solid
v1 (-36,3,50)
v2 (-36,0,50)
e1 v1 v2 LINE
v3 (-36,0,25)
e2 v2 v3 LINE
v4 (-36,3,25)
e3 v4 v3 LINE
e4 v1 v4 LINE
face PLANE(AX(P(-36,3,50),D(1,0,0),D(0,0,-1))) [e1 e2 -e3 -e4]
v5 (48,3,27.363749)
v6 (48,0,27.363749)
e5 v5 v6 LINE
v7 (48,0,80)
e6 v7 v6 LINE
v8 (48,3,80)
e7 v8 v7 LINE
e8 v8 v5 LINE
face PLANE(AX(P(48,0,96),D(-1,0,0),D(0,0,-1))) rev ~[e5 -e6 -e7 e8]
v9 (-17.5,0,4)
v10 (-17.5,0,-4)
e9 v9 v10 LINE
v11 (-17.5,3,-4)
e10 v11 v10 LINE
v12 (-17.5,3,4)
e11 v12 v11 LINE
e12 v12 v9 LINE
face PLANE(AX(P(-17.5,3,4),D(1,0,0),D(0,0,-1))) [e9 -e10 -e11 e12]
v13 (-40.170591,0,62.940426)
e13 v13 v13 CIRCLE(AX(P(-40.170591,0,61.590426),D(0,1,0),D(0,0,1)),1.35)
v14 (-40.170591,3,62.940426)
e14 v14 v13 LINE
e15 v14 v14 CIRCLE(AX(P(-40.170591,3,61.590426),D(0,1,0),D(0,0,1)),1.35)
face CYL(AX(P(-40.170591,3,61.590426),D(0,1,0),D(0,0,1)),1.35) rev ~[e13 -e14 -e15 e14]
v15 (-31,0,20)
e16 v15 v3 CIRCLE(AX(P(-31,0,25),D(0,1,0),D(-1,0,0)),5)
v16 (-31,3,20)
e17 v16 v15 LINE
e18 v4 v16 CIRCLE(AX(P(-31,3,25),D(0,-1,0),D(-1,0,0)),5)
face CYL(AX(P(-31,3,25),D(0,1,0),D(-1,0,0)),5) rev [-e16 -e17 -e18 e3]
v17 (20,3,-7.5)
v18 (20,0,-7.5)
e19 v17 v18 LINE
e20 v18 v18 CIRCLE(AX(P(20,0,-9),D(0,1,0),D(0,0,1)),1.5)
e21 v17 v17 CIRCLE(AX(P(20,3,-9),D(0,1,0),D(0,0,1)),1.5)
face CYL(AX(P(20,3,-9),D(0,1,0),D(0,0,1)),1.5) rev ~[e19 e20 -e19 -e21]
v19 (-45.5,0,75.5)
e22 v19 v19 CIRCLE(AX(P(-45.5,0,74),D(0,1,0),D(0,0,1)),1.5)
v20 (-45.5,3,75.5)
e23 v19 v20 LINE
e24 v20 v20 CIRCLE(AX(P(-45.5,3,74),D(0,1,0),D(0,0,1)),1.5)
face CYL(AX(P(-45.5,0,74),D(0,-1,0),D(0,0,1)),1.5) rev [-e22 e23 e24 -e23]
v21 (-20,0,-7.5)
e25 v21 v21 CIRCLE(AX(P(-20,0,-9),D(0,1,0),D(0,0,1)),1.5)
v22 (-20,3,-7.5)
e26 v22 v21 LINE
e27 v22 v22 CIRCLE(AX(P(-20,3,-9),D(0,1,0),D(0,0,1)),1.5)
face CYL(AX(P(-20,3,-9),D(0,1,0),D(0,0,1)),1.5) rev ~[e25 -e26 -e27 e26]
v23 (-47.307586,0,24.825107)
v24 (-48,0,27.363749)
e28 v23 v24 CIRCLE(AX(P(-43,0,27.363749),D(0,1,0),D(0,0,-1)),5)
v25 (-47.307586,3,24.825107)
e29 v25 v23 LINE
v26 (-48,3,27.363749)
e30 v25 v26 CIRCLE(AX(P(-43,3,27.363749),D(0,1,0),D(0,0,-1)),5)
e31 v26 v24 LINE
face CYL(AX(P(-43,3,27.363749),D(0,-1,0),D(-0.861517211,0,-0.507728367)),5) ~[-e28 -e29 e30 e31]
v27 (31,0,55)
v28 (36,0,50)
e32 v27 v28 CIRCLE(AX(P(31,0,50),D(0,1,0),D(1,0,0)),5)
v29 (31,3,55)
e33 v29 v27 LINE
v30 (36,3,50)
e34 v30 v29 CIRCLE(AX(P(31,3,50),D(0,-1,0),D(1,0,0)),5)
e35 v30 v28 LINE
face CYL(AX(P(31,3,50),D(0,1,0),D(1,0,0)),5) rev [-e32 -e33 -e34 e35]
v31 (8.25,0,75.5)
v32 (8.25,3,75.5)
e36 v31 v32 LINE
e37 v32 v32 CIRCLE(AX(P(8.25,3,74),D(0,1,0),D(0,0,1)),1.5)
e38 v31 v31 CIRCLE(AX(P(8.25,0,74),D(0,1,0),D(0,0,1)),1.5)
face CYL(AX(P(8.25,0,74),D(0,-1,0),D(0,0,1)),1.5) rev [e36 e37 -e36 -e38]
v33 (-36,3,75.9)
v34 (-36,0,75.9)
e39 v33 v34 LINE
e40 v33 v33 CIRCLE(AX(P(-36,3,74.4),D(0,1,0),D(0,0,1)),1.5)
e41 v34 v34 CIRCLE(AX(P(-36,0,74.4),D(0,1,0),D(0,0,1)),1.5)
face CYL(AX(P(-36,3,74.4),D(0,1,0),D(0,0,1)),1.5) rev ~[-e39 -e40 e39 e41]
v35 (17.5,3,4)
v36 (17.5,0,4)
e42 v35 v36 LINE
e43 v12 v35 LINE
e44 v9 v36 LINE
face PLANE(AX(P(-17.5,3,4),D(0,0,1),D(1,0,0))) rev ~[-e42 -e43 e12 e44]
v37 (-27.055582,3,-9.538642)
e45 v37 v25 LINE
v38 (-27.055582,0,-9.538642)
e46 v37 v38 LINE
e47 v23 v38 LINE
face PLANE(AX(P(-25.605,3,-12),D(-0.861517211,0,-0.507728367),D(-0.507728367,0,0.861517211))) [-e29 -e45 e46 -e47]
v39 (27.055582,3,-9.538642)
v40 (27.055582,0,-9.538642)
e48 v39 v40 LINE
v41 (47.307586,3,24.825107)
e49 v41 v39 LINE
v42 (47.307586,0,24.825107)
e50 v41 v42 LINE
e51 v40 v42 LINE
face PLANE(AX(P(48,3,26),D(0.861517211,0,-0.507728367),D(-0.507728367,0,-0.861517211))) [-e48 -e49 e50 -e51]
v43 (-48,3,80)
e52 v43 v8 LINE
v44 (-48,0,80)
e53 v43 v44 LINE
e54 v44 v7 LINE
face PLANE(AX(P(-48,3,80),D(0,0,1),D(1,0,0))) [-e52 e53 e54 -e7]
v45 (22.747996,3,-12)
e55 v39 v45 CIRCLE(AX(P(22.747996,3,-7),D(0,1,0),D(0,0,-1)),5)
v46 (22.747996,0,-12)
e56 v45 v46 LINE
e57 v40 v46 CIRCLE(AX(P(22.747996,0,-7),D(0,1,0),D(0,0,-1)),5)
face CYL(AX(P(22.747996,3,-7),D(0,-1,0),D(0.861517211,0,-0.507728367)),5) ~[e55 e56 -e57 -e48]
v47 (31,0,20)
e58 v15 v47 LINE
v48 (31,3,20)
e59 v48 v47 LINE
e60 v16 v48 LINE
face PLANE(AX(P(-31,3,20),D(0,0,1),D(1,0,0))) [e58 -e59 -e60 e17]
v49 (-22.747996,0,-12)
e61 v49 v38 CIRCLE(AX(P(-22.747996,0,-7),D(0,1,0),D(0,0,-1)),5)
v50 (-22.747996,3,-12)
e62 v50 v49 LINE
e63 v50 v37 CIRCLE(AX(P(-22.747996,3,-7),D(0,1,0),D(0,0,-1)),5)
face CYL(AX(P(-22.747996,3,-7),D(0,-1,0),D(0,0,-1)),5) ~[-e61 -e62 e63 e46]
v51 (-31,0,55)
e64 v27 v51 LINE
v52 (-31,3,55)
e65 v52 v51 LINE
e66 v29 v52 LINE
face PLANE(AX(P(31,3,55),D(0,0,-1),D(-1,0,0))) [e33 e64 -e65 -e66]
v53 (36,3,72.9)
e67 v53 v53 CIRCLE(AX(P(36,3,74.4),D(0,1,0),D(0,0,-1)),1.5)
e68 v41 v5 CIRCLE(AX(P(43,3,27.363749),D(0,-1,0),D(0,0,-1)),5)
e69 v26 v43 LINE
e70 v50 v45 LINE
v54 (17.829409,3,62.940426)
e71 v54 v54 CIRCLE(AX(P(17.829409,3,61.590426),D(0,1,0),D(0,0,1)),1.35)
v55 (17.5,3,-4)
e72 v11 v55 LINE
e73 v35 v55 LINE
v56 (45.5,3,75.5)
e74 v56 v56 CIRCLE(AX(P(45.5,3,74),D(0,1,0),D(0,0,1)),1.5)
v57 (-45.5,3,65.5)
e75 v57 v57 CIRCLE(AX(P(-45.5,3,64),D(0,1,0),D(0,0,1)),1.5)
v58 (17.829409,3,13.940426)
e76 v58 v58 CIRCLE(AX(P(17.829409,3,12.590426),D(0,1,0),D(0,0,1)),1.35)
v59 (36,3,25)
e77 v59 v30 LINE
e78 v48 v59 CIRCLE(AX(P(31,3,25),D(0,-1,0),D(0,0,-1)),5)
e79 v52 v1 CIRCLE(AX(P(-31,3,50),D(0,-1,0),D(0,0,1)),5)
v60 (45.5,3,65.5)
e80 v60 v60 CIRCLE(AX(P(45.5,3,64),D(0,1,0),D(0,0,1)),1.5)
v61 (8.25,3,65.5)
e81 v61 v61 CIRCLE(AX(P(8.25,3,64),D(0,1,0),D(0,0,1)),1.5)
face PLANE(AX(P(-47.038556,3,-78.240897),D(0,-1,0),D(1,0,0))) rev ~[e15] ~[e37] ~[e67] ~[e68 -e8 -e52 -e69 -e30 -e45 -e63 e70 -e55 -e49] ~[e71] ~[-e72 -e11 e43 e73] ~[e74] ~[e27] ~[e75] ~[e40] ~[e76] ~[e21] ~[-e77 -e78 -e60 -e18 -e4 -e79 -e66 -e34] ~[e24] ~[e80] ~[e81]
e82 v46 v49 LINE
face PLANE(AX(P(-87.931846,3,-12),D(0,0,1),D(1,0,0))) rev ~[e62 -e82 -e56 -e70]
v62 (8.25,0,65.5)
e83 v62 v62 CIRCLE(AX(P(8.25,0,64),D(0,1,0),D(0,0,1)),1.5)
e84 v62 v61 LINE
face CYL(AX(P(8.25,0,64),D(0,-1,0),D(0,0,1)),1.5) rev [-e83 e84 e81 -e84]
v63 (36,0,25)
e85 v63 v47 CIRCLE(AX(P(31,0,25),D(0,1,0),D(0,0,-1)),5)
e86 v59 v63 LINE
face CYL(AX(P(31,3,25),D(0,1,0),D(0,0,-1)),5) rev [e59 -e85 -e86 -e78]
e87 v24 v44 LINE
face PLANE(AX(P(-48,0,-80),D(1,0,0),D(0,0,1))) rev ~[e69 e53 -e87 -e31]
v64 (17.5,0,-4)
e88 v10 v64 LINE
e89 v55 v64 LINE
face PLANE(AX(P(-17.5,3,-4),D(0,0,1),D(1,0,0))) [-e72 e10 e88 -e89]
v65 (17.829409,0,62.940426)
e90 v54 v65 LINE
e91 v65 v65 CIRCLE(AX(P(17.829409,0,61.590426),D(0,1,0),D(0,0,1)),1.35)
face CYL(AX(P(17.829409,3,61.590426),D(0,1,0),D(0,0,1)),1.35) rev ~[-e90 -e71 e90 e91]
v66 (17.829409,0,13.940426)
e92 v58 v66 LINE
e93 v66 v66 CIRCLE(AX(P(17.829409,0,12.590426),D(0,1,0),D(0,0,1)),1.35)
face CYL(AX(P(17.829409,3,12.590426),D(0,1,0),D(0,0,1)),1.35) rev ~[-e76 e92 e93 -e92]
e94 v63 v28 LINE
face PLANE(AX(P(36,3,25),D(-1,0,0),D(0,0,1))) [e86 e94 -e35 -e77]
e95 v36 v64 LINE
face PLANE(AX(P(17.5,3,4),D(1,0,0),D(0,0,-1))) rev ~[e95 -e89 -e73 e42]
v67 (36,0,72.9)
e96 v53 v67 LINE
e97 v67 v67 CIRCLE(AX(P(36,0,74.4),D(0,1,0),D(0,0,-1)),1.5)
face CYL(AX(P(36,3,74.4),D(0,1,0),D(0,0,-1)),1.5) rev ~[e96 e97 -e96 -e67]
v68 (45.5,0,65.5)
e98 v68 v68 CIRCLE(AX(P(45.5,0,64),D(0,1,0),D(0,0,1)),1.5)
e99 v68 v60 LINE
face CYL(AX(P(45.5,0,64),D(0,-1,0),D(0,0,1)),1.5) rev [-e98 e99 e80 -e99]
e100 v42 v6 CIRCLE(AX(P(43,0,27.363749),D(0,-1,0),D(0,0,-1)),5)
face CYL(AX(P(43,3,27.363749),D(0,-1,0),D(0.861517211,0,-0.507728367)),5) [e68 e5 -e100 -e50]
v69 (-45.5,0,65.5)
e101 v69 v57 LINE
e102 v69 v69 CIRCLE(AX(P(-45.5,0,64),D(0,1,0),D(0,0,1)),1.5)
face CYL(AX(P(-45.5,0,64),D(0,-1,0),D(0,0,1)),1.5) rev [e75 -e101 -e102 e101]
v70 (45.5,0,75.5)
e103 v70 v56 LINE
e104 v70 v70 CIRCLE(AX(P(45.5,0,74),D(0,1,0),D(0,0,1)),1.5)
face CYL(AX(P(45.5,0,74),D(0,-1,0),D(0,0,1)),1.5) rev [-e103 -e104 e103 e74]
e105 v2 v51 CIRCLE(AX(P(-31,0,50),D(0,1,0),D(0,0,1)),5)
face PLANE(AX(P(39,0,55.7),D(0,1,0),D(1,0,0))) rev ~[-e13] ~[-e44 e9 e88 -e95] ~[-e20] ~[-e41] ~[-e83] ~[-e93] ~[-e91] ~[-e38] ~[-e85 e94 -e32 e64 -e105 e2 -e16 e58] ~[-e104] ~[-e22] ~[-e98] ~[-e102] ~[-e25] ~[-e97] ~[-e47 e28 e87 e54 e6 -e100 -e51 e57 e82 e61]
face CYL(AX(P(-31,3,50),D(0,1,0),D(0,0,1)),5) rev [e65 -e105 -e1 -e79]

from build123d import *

# Parameters (mm, degrees)
SKETCH1_R           = 1.5
SKETCH1_R_2         = 1.65
SKETCH1_W           = 6
SKETCH1_H           = 28
BOSS_EXTRUDE1_DEPTH = 3
CUT_EXTRUDE2_REACH  = 109.373
SKETCH3_R           = 1.5
CUT_EXTRUDE3_REACH  = 109.373
SKETCH4_W           = 22.395
SKETCH4_H           = 68
SKETCH6_W           = 51.21
SKETCH6_H           = 5
BOSS_EXTRUDE2_DEPTH = 3
CUT_EXTRUDE4_REACH  = 109.373
SKETCH7_R           = 1.5
CUT_EXTRUDE5_REACH  = 109.373
SKETCH9_R           = 1.5
CUT_EXTRUDE6_REACH  = 109.373
SKETCH11_R          = 1.5
SKETCH11_R_2        = 2.5
BOSS_EXTRUDE3_DEPTH = 3
CUT_EXTRUDE7_REACH  = 109.373
CUT_EXTRUDE8_START  = -3
SKETCH13_W          = 4.95
SKETCH13_H          = 15
SKETCH13_W_2        = 6.078763038
SKETCH13_H_2        = 4.767996375
CUT_EXTRUDE8_DEPTH  = 3
BOSS_EXTRUDE4_DEPTH = 3
CUT_EXTRUDE9_REACH  = 120.849
SKETCH15_R          = 1.5
CUT_EXTRUDE10_DEPTH = 119.84864324
SKETCH19_W          = 9
SKETCH19_H          = 48.6
SKETCH19_W_2        = 31.468413904
SKETCH19_H_2        = 28.051944454
BOSS_EXTRUDE5_DEPTH = 3
SKETCH20_W          = 96
SKETCH20_H          = 16
CUT_EXTRUDE11_DEPTH = 108.373181009
SKETCH22_W          = 4.143615352
SKETCH22_H          = 3.607002568
BOSS_EXTRUDE6_DEPTH = 3
FILLET1_R           = 5
SKETCH23_R          = 1.35
CUT_EXTRUDE12_DEPTH = 94.343451832
CUT_EXTRUDE13_DEPTH = 94.343451832
SKETCH28_W          = 35
SKETCH28_H          = 8
CUT_EXTRUDE17_DEPTH = 94.343451832
SKETCH29_R          = 1.5
CUT_EXTRUDE18_DEPTH = 94.343451832


with BuildPart() as part:
    # Sketch1 → Boss-Extrude1 (new body)
    with BuildSketch(Plane(origin=(0, 0, 0), x_dir=(1, 0, 0), z_dir=(0, 1, 0))):
        Polygon((-48, -80), (-48, 80), (48, 80), (48, -80), (48, -96), (-48, -96), align=None)
        with Locations(Location((45.5, -74, 0), (0, 0, 270))):
            Circle(SKETCH1_R, mode=Mode.SUBTRACT)
        with Locations(Location((45.5, -64, 0), (0, 0, 270))):
            Circle(SKETCH1_R, mode=Mode.SUBTRACT)
        with Locations(Location((-45.5, -64, 0), (0, 0, 270))):
            Circle(SKETCH1_R, mode=Mode.SUBTRACT)
        with Locations(Location((-45.5, -74, 0), (0, 0, 270))):
            Circle(SKETCH1_R, mode=Mode.SUBTRACT)
        with Locations(Location((8.25, -74, 0), (0, 0, 270))):
            Circle(SKETCH1_R, mode=Mode.SUBTRACT)
        with Locations(Location((8.25, -64, 0), (0, 0, 270))):
            Circle(SKETCH1_R, mode=Mode.SUBTRACT)
        with Locations(Location((0.259511597, -37.46931278, 0), (0, 0, 270))):
            Circle(SKETCH1_R_2, mode=Mode.SUBTRACT)
        with Locations(Location((15.320886036, -37.46931278, 0), (0, 0, 270))):
            Circle(SKETCH1_R_2, mode=Mode.SUBTRACT)
        with Locations(Location((15.320886036, -52.53068722, 0), (0, 0, 270))):
            Circle(SKETCH1_R_2, mode=Mode.SUBTRACT)
        with Locations(Location((0.259511597, -52.53068722, 0), (0, 0, 270))):
            Circle(SKETCH1_R_2, mode=Mode.SUBTRACT)
        with Locations(Location((17.55, -90, 0), (0, 0, 270))):
            Circle(SKETCH1_R, mode=Mode.SUBTRACT)
        with Locations(Location((45.55, -90, 0), (0, 0, 270))):
            Circle(SKETCH1_R, mode=Mode.SUBTRACT)
        with Locations(Location((-45.55, -90, 0), (0, 0, 90))):
            Circle(SKETCH1_R, mode=Mode.SUBTRACT)
        with Locations(Location((-17.55, -90, 0), (0, 0, 90))):
            Circle(SKETCH1_R, mode=Mode.SUBTRACT)
        with Locations((22.5, -45.4)):
            Rectangle(SKETCH1_W, SKETCH1_H, mode=Mode.SUBTRACT)
        Polygon((43, -80), (34.5, -80), (34.5, -31.4), (43, -31.4), (43.5, -31.4), (43.5, -58), (43, -58), align=None, mode=Mode.SUBTRACT)
    extrude(amount=BOSS_EXTRUDE1_DEPTH)

    # Sketch3 → Cut-Extrude2 (cut, up to next)
    with BuildSketch(Plane(origin=(0, 3, 0), x_dir=(1, 0, 0), z_dir=(0, 1, 0)), mode=Mode.PRIVATE) as cut_extrude2_sk1:
        with Locations(Location((0, 9, 0), (0, 0, 270))):
            Circle(SKETCH3_R)
    cut_extrude2_tool1 = extrude(cut_extrude2_sk1.sketch, amount=-CUT_EXTRUDE2_REACH, mode=Mode.PRIVATE) & part.part
    add(cut_extrude2_tool1.solids().sort_by_distance((0, 3, -9))[0], mode=Mode.SUBTRACT)

    # Sketch4 → Cut-Extrude3 (cut, up to next)
    with BuildSketch(Plane(origin=(0, 3, 0), x_dir=(1, 0, 0), z_dir=(0, 1, 0)), mode=Mode.PRIVATE) as cut_extrude3_sk1:
        with Locations((36.8025, 46)):
            Rectangle(SKETCH4_W, SKETCH4_H)
    cut_extrude3_tool1 = extrude(cut_extrude3_sk1.sketch, amount=-CUT_EXTRUDE3_REACH, mode=Mode.PRIVATE) & part.part
    # Sketch4 → Cut-Extrude3 (cut, up to next)
    with BuildSketch(Plane(origin=(0, 3, 0), x_dir=(1, 0, 0), z_dir=(0, 1, 0)), mode=Mode.PRIVATE) as cut_extrude3_sk2:
        with Locations((-36.8025, 46)):
            Rectangle(SKETCH4_W, SKETCH4_H)
    cut_extrude3_tool2 = extrude(cut_extrude3_sk2.sketch, amount=-CUT_EXTRUDE3_REACH, mode=Mode.PRIVATE) & part.part
    add(cut_extrude3_tool1.solids().sort_by_distance((36.8025, 3, -46))[0], mode=Mode.SUBTRACT)
    add(cut_extrude3_tool2.solids().sort_by_distance((-36.8025, 3, -46))[0], mode=Mode.SUBTRACT)

    # Sketch6 → Boss-Extrude2 (add)
    with BuildSketch(Plane(origin=(0, 3, 0), x_dir=(1, 0, 0), z_dir=(0, 1, 0))):
        with Locations((0, 82.5)):
            Rectangle(SKETCH6_W, SKETCH6_H)
    extrude(amount=-BOSS_EXTRUDE2_DEPTH)

    # Sketch7 → Cut-Extrude4 (cut, up to next)
    with BuildSketch(Plane(origin=(0, 3, 0), x_dir=(1, 0, 0), z_dir=(0, 1, 0)), mode=Mode.PRIVATE) as cut_extrude4_sk1:
        with Locations(Location((-17.8495, 79.268380868, 0), (0, 0, 270))):
            Circle(SKETCH7_R)
    cut_extrude4_tool1 = extrude(cut_extrude4_sk1.sketch, amount=-CUT_EXTRUDE4_REACH, mode=Mode.PRIVATE) & part.part
    # Sketch7 → Cut-Extrude4 (cut, up to next)
    with BuildSketch(Plane(origin=(0, 3, 0), x_dir=(1, 0, 0), z_dir=(0, 1, 0)), mode=Mode.PRIVATE) as cut_extrude4_sk2:
        with Locations(Location((17.8495, 79.268380868, 0), (0, 0, 270))):
            Circle(SKETCH7_R)
    cut_extrude4_tool2 = extrude(cut_extrude4_sk2.sketch, amount=-CUT_EXTRUDE4_REACH, mode=Mode.PRIVATE) & part.part
    add(cut_extrude4_tool1.solids().sort_by_distance((-17.8495, 3, -79.268381))[0], mode=Mode.SUBTRACT)
    add(cut_extrude4_tool2.solids().sort_by_distance((17.8495, 3, -79.268381))[0], mode=Mode.SUBTRACT)

    # Sketch9 → Cut-Extrude5 (cut, up to next)
    with BuildSketch(Plane(origin=(0, 3, 0), x_dir=(1, 0, 0), z_dir=(0, 1, 0)), mode=Mode.PRIVATE) as cut_extrude5_sk1:
        with Locations(Location((-22.6907969, 44, 0), (0, 0, 270))):
            Circle(SKETCH9_R)
    cut_extrude5_tool1 = extrude(cut_extrude5_sk1.sketch, amount=-CUT_EXTRUDE5_REACH, mode=Mode.PRIVATE) & part.part
    # Sketch9 → Cut-Extrude5 (cut, up to next)
    with BuildSketch(Plane(origin=(0, 3, 0), x_dir=(1, 0, 0), z_dir=(0, 1, 0)), mode=Mode.PRIVATE) as cut_extrude5_sk2:
        with Locations(Location((22.6907969, 44, 0), (0, 0, 270))):
            Circle(SKETCH9_R)
    cut_extrude5_tool2 = extrude(cut_extrude5_sk2.sketch, amount=-CUT_EXTRUDE5_REACH, mode=Mode.PRIVATE) & part.part
    add(cut_extrude5_tool1.solids().sort_by_distance((-22.690797, 3, -44))[0], mode=Mode.SUBTRACT)
    add(cut_extrude5_tool2.solids().sort_by_distance((22.690797, 3, -44))[0], mode=Mode.SUBTRACT)

    # Sketch10 → Cut-Extrude6 (cut, up to next)
    with BuildSketch(Plane(origin=(0, 3, 0), x_dir=(1, 0, 0), z_dir=(0, 1, 0)), mode=Mode.PRIVATE) as cut_extrude6_sk1:
        Polygon((48, -26), (25.605, 12), (48, 12), align=None)
    cut_extrude6_tool1 = extrude(cut_extrude6_sk1.sketch, amount=-CUT_EXTRUDE6_REACH, mode=Mode.PRIVATE) & part.part
    # Sketch10 → Cut-Extrude6 (cut, up to next)
    with BuildSketch(Plane(origin=(0, 3, 0), x_dir=(1, 0, 0), z_dir=(0, 1, 0)), mode=Mode.PRIVATE) as cut_extrude6_sk2:
        Polygon((-48, -26), (-48, 12), (-25.605, 12), align=None)
    cut_extrude6_tool2 = extrude(cut_extrude6_sk2.sketch, amount=-CUT_EXTRUDE6_REACH, mode=Mode.PRIVATE) & part.part
    add(cut_extrude6_tool1.solids().sort_by_distance((40.535, 3, 0.666667))[0], mode=Mode.SUBTRACT)
    add(cut_extrude6_tool2.solids().sort_by_distance((-40.535, 3, 0.666667))[0], mode=Mode.SUBTRACT)

    # Sketch11 → Boss-Extrude3 (add)
    # profile 1 of 2: a face of its own
    with BuildSketch(Plane.XZ):
        with BuildLine():
            Line((-45.873798612, -40.351535952), (-25.605, -52.641311078))
            Line((-25.605, -52.641311078), (-25.605, -35.641311078))
            Line((-25.605, -35.641311078), (-31.796655586, -35.641311078))
            Line((-31.796655586, -35.641311078), (-42.885371512, -33.037114659))
            ThreePointArc((-42.885371512, -33.037114659), (-47.502761912, -35.418300045), (-45.873798612, -40.351535952))
        make_face()
        with Locations(Location((-32.930328676, -41.931167665, 0), (0, 0, 270))):
            Circle(SKETCH11_R, mode=Mode.SUBTRACT)
        with Locations(Location((-43.799893893, -36.931167665, 0), (0, 0, 270))):
            Circle(SKETCH11_R_2, mode=Mode.SUBTRACT)
    # profile 2 of 2: a face of its own
    with BuildSketch(Plane.XZ):
        with BuildLine():
            Line((25.605, -35.641311078), (25.605, -52.641311078))
            Line((25.605, -52.641311078), (45.873798612, -40.351535952))
            ThreePointArc((45.873798612, -40.351535952), (47.502761912, -35.418300045), (42.885371512, -33.037114659))
            Line((42.885371512, -33.037114659), (31.796655586, -35.641311078))
            Line((31.796655586, -35.641311078), (25.605, -35.641311078))
        make_face()
        with Locations(Location((32.930328676, -41.931167665, 0), (0, 0, 270))):
            Circle(SKETCH11_R, mode=Mode.SUBTRACT)
        with Locations(Location((43.799893893, -36.931167665, 0), (0, 0, 270))):
            Circle(SKETCH11_R_2, mode=Mode.SUBTRACT)
    extrude(amount=-BOSS_EXTRUDE3_DEPTH)

    # Sketch12 → Cut-Extrude7 (cut, up to next)
    with BuildSketch(Plane.XZ, mode=Mode.PRIVATE) as cut_extrude7_sk1:
        Polygon((-11.899893893, -39.441311078), (-11.899893893, -54.741311078), (12.200106107, -54.741311078), (12.200106107, -39.441311078), (17.036431901, -39.441311078), (17.164018107, -32.041311078), (12.200106107, -32.041311078), (12.200106107, -31.191311078), (12.200106107, -25.191311078), (12.200106107, -19.091311078), (-3.799893893, -19.091311078), (-3.799893893, -30.391311078), (-11.899893893, -30.391311078), (-11.899893893, -32.041311078), (-16.849893893, -32.041311078), (-16.849893893, -39.441311078), align=None)
    cut_extrude7_tool1 = extrude(cut_extrude7_sk1.sketch, amount=-CUT_EXTRUDE7_REACH, mode=Mode.PRIVATE) & part.part
    add(cut_extrude7_tool1.solids().sort_by_distance((1.013826, 0, -38.139532))[0], mode=Mode.SUBTRACT)

    # Sketch13 → Cut-Extrude8 (cut)
    with BuildSketch(Plane.XZ.offset(CUT_EXTRUDE8_START)):
        with Locations((-14.374893893, -36.541311078)):
            Rectangle(SKETCH13_W, SKETCH13_H)
        with Locations((14.675106107, -36.541311078)):
            Rectangle(SKETCH13_W, SKETCH13_H)
        with Locations((15.239487626, -48.991959171)):
            Rectangle(SKETCH13_W_2, SKETCH13_H_2)
    extrude(amount=CUT_EXTRUDE8_DEPTH, mode=Mode.SUBTRACT)

    # Sketch14 → Boss-Extrude4 (add)
    with BuildSketch(Plane.XZ):
        with BuildLine():
            Line((-62, -85), (-25.605, -85))
            Line((-25.605, -85), (-25.605, -72))
            Line((-25.605, -72), (-70, -72))
            Line((-70, -72), (-70, -77))
            ThreePointArc((-70, -77), (-67.656854249, -82.656854249), (-62, -85))
        make_face()
        with BuildLine():
            Line((25.605, -72), (25.605, -85))
            Line((25.605, -85), (62, -85))
            ThreePointArc((62, -85), (67.656854249, -82.656854249), (70, -77))
            Line((70, -77), (70, -72))
            Line((70, -72), (25.605, -72))
        make_face()
    extrude(amount=-BOSS_EXTRUDE4_DEPTH)

    # Sketch15 → Cut-Extrude9 (cut, up to next)
    with BuildSketch(Plane(origin=(0, 3, 0), x_dir=(1, 0, 0), z_dir=(0, 1, 0)), mode=Mode.PRIVATE) as cut_extrude9_sk1:
        with Locations(Location((-20, 9, 0), (0, 0, 270))):
            Circle(SKETCH15_R)
    cut_extrude9_tool1 = extrude(cut_extrude9_sk1.sketch, amount=-CUT_EXTRUDE9_REACH, mode=Mode.PRIVATE) & part.part
    # Sketch15 → Cut-Extrude9 (cut, up to next)
    with BuildSketch(Plane(origin=(0, 3, 0), x_dir=(1, 0, 0), z_dir=(0, 1, 0)), mode=Mode.PRIVATE) as cut_extrude9_sk2:
        with Locations(Location((20, 9, 0), (0, 0, 270))):
            Circle(SKETCH15_R)
    cut_extrude9_tool2 = extrude(cut_extrude9_sk2.sketch, amount=-CUT_EXTRUDE9_REACH, mode=Mode.PRIVATE) & part.part
    add(cut_extrude9_tool1.solids().sort_by_distance((-20, 3, -9))[0], mode=Mode.SUBTRACT)
    add(cut_extrude9_tool2.solids().sort_by_distance((20, 3, -9))[0], mode=Mode.SUBTRACT)

    # Sketch18 → Cut-Extrude10 (cut, through all)
    with BuildSketch(Plane(origin=(0, 3, 0), x_dir=(1, 0, 0), z_dir=(0, 1, 0))):
        Polygon((-87.931846418, 12), (-25.605, 12), (25.605, 12), (83.08251035, 12), (83.08251035, 92.113601242), (-87.931846418, 92.113601242), align=None)
    extrude(amount=-CUT_EXTRUDE10_DEPTH, mode=Mode.SUBTRACT)

    # Sketch19 → Boss-Extrude5 (add, through all)
    with BuildSketch(Plane(origin=(0, 3, 0), x_dir=(1, 0, 0), z_dir=(0, 1, 0))):
        with Locations((39, -55.7)):
            Rectangle(SKETCH19_W, SKETCH19_H)
        with Locations((9.765793048, -45.425972227)):
            Rectangle(SKETCH19_W_2, SKETCH19_H_2)
    extrude(amount=-BOSS_EXTRUDE5_DEPTH)

    # Sketch20 → Cut-Extrude11 (cut, through all)
    with BuildSketch(Plane(origin=(0, 3, 0), x_dir=(1, 0, 0), z_dir=(0, 1, 0))):
        with Locations((0, -88)):
            Rectangle(SKETCH20_W, SKETCH20_H)
    extrude(amount=-CUT_EXTRUDE11_DEPTH, mode=Mode.SUBTRACT)

    # Sketch22 → Boss-Extrude6 (add, through all)
    with BuildSketch(Plane(origin=(0, 3, 0), x_dir=(1, 0, 0), z_dir=(0, 1, 0))):
        with Locations((0, 9)):
            Rectangle(SKETCH22_W, SKETCH22_H)
    extrude(amount=-BOSS_EXTRUDE6_DEPTH)

    # Fillet1
    fillet1_edges = [part.edges().sort_by_distance(p)[0] for p in [
        (-25.605, 1.5, -12),
        (25.605, 1.5, -12),
        (48, 1.5, 26),
        (-48, 1.5, 26),
    ]]
    fillet(fillet1_edges, radius=FILLET1_R)

    # Sketch23 → Cut-Extrude12 (cut, through all)
    with BuildSketch(Plane(origin=(0, 3, 0), x_dir=(1, 0, 0), z_dir=(0, 1, 0))):
        with Locations(Location((-40.170591439, -61.590425785, 0), (0, 0, 270))):
            Circle(SKETCH23_R)
        with Locations(Location((17.829408561, -61.590425785, 0), (0, 0, 270))):
            Circle(SKETCH23_R)
        with Locations(Location((17.829408561, -12.590425785, 0), (0, 0, 270))):
            Circle(SKETCH23_R)
    extrude(amount=-CUT_EXTRUDE12_DEPTH, mode=Mode.SUBTRACT)

    # Sketch24 → Cut-Extrude13 (cut, through all)
    with BuildSketch(Plane(origin=(0, 3, 0), x_dir=(1, 0, 0), z_dir=(0, 1, 0))):
        with BuildLine():
            Line((31, -55), (-31, -55))
            ThreePointArc((-31, -55), (-34.535533906, -53.535533906), (-36, -50))
            Line((-36, -50), (-36, -25))
            ThreePointArc((-36, -25), (-34.535533906, -21.464466094), (-31, -20))
            Line((-31, -20), (31, -20))
            ThreePointArc((31, -20), (34.535533906, -21.464466094), (36, -25))
            Line((36, -25), (36, -50))
            ThreePointArc((36, -50), (34.535533906, -53.535533906), (31, -55))
        make_face()
    extrude(amount=-CUT_EXTRUDE13_DEPTH, mode=Mode.SUBTRACT)

    # Sketch28 → Cut-Extrude17 (cut, through all)
    with BuildSketch(Plane(origin=(0, 3, 0), x_dir=(1, 0, 0), z_dir=(0, 1, 0))):
        Rectangle(SKETCH28_W, SKETCH28_H)
    extrude(amount=-CUT_EXTRUDE17_DEPTH, mode=Mode.SUBTRACT)

    # Sketch29 → Cut-Extrude18 (cut, through all)
    with BuildSketch(Plane(origin=(0, 3, 0), x_dir=(1, 0, 0), z_dir=(0, 1, 0))):
        with Locations(Location((-36, -74.4, 0), (0, 0, 270))):
            Circle(SKETCH29_R)
        with Locations(Location((36, -74.4, 0), (0, 0, 90))):
            Circle(SKETCH29_R)
    extrude(amount=-CUT_EXTRUDE18_DEPTH, mode=Mode.SUBTRACT)


solid = part.part
